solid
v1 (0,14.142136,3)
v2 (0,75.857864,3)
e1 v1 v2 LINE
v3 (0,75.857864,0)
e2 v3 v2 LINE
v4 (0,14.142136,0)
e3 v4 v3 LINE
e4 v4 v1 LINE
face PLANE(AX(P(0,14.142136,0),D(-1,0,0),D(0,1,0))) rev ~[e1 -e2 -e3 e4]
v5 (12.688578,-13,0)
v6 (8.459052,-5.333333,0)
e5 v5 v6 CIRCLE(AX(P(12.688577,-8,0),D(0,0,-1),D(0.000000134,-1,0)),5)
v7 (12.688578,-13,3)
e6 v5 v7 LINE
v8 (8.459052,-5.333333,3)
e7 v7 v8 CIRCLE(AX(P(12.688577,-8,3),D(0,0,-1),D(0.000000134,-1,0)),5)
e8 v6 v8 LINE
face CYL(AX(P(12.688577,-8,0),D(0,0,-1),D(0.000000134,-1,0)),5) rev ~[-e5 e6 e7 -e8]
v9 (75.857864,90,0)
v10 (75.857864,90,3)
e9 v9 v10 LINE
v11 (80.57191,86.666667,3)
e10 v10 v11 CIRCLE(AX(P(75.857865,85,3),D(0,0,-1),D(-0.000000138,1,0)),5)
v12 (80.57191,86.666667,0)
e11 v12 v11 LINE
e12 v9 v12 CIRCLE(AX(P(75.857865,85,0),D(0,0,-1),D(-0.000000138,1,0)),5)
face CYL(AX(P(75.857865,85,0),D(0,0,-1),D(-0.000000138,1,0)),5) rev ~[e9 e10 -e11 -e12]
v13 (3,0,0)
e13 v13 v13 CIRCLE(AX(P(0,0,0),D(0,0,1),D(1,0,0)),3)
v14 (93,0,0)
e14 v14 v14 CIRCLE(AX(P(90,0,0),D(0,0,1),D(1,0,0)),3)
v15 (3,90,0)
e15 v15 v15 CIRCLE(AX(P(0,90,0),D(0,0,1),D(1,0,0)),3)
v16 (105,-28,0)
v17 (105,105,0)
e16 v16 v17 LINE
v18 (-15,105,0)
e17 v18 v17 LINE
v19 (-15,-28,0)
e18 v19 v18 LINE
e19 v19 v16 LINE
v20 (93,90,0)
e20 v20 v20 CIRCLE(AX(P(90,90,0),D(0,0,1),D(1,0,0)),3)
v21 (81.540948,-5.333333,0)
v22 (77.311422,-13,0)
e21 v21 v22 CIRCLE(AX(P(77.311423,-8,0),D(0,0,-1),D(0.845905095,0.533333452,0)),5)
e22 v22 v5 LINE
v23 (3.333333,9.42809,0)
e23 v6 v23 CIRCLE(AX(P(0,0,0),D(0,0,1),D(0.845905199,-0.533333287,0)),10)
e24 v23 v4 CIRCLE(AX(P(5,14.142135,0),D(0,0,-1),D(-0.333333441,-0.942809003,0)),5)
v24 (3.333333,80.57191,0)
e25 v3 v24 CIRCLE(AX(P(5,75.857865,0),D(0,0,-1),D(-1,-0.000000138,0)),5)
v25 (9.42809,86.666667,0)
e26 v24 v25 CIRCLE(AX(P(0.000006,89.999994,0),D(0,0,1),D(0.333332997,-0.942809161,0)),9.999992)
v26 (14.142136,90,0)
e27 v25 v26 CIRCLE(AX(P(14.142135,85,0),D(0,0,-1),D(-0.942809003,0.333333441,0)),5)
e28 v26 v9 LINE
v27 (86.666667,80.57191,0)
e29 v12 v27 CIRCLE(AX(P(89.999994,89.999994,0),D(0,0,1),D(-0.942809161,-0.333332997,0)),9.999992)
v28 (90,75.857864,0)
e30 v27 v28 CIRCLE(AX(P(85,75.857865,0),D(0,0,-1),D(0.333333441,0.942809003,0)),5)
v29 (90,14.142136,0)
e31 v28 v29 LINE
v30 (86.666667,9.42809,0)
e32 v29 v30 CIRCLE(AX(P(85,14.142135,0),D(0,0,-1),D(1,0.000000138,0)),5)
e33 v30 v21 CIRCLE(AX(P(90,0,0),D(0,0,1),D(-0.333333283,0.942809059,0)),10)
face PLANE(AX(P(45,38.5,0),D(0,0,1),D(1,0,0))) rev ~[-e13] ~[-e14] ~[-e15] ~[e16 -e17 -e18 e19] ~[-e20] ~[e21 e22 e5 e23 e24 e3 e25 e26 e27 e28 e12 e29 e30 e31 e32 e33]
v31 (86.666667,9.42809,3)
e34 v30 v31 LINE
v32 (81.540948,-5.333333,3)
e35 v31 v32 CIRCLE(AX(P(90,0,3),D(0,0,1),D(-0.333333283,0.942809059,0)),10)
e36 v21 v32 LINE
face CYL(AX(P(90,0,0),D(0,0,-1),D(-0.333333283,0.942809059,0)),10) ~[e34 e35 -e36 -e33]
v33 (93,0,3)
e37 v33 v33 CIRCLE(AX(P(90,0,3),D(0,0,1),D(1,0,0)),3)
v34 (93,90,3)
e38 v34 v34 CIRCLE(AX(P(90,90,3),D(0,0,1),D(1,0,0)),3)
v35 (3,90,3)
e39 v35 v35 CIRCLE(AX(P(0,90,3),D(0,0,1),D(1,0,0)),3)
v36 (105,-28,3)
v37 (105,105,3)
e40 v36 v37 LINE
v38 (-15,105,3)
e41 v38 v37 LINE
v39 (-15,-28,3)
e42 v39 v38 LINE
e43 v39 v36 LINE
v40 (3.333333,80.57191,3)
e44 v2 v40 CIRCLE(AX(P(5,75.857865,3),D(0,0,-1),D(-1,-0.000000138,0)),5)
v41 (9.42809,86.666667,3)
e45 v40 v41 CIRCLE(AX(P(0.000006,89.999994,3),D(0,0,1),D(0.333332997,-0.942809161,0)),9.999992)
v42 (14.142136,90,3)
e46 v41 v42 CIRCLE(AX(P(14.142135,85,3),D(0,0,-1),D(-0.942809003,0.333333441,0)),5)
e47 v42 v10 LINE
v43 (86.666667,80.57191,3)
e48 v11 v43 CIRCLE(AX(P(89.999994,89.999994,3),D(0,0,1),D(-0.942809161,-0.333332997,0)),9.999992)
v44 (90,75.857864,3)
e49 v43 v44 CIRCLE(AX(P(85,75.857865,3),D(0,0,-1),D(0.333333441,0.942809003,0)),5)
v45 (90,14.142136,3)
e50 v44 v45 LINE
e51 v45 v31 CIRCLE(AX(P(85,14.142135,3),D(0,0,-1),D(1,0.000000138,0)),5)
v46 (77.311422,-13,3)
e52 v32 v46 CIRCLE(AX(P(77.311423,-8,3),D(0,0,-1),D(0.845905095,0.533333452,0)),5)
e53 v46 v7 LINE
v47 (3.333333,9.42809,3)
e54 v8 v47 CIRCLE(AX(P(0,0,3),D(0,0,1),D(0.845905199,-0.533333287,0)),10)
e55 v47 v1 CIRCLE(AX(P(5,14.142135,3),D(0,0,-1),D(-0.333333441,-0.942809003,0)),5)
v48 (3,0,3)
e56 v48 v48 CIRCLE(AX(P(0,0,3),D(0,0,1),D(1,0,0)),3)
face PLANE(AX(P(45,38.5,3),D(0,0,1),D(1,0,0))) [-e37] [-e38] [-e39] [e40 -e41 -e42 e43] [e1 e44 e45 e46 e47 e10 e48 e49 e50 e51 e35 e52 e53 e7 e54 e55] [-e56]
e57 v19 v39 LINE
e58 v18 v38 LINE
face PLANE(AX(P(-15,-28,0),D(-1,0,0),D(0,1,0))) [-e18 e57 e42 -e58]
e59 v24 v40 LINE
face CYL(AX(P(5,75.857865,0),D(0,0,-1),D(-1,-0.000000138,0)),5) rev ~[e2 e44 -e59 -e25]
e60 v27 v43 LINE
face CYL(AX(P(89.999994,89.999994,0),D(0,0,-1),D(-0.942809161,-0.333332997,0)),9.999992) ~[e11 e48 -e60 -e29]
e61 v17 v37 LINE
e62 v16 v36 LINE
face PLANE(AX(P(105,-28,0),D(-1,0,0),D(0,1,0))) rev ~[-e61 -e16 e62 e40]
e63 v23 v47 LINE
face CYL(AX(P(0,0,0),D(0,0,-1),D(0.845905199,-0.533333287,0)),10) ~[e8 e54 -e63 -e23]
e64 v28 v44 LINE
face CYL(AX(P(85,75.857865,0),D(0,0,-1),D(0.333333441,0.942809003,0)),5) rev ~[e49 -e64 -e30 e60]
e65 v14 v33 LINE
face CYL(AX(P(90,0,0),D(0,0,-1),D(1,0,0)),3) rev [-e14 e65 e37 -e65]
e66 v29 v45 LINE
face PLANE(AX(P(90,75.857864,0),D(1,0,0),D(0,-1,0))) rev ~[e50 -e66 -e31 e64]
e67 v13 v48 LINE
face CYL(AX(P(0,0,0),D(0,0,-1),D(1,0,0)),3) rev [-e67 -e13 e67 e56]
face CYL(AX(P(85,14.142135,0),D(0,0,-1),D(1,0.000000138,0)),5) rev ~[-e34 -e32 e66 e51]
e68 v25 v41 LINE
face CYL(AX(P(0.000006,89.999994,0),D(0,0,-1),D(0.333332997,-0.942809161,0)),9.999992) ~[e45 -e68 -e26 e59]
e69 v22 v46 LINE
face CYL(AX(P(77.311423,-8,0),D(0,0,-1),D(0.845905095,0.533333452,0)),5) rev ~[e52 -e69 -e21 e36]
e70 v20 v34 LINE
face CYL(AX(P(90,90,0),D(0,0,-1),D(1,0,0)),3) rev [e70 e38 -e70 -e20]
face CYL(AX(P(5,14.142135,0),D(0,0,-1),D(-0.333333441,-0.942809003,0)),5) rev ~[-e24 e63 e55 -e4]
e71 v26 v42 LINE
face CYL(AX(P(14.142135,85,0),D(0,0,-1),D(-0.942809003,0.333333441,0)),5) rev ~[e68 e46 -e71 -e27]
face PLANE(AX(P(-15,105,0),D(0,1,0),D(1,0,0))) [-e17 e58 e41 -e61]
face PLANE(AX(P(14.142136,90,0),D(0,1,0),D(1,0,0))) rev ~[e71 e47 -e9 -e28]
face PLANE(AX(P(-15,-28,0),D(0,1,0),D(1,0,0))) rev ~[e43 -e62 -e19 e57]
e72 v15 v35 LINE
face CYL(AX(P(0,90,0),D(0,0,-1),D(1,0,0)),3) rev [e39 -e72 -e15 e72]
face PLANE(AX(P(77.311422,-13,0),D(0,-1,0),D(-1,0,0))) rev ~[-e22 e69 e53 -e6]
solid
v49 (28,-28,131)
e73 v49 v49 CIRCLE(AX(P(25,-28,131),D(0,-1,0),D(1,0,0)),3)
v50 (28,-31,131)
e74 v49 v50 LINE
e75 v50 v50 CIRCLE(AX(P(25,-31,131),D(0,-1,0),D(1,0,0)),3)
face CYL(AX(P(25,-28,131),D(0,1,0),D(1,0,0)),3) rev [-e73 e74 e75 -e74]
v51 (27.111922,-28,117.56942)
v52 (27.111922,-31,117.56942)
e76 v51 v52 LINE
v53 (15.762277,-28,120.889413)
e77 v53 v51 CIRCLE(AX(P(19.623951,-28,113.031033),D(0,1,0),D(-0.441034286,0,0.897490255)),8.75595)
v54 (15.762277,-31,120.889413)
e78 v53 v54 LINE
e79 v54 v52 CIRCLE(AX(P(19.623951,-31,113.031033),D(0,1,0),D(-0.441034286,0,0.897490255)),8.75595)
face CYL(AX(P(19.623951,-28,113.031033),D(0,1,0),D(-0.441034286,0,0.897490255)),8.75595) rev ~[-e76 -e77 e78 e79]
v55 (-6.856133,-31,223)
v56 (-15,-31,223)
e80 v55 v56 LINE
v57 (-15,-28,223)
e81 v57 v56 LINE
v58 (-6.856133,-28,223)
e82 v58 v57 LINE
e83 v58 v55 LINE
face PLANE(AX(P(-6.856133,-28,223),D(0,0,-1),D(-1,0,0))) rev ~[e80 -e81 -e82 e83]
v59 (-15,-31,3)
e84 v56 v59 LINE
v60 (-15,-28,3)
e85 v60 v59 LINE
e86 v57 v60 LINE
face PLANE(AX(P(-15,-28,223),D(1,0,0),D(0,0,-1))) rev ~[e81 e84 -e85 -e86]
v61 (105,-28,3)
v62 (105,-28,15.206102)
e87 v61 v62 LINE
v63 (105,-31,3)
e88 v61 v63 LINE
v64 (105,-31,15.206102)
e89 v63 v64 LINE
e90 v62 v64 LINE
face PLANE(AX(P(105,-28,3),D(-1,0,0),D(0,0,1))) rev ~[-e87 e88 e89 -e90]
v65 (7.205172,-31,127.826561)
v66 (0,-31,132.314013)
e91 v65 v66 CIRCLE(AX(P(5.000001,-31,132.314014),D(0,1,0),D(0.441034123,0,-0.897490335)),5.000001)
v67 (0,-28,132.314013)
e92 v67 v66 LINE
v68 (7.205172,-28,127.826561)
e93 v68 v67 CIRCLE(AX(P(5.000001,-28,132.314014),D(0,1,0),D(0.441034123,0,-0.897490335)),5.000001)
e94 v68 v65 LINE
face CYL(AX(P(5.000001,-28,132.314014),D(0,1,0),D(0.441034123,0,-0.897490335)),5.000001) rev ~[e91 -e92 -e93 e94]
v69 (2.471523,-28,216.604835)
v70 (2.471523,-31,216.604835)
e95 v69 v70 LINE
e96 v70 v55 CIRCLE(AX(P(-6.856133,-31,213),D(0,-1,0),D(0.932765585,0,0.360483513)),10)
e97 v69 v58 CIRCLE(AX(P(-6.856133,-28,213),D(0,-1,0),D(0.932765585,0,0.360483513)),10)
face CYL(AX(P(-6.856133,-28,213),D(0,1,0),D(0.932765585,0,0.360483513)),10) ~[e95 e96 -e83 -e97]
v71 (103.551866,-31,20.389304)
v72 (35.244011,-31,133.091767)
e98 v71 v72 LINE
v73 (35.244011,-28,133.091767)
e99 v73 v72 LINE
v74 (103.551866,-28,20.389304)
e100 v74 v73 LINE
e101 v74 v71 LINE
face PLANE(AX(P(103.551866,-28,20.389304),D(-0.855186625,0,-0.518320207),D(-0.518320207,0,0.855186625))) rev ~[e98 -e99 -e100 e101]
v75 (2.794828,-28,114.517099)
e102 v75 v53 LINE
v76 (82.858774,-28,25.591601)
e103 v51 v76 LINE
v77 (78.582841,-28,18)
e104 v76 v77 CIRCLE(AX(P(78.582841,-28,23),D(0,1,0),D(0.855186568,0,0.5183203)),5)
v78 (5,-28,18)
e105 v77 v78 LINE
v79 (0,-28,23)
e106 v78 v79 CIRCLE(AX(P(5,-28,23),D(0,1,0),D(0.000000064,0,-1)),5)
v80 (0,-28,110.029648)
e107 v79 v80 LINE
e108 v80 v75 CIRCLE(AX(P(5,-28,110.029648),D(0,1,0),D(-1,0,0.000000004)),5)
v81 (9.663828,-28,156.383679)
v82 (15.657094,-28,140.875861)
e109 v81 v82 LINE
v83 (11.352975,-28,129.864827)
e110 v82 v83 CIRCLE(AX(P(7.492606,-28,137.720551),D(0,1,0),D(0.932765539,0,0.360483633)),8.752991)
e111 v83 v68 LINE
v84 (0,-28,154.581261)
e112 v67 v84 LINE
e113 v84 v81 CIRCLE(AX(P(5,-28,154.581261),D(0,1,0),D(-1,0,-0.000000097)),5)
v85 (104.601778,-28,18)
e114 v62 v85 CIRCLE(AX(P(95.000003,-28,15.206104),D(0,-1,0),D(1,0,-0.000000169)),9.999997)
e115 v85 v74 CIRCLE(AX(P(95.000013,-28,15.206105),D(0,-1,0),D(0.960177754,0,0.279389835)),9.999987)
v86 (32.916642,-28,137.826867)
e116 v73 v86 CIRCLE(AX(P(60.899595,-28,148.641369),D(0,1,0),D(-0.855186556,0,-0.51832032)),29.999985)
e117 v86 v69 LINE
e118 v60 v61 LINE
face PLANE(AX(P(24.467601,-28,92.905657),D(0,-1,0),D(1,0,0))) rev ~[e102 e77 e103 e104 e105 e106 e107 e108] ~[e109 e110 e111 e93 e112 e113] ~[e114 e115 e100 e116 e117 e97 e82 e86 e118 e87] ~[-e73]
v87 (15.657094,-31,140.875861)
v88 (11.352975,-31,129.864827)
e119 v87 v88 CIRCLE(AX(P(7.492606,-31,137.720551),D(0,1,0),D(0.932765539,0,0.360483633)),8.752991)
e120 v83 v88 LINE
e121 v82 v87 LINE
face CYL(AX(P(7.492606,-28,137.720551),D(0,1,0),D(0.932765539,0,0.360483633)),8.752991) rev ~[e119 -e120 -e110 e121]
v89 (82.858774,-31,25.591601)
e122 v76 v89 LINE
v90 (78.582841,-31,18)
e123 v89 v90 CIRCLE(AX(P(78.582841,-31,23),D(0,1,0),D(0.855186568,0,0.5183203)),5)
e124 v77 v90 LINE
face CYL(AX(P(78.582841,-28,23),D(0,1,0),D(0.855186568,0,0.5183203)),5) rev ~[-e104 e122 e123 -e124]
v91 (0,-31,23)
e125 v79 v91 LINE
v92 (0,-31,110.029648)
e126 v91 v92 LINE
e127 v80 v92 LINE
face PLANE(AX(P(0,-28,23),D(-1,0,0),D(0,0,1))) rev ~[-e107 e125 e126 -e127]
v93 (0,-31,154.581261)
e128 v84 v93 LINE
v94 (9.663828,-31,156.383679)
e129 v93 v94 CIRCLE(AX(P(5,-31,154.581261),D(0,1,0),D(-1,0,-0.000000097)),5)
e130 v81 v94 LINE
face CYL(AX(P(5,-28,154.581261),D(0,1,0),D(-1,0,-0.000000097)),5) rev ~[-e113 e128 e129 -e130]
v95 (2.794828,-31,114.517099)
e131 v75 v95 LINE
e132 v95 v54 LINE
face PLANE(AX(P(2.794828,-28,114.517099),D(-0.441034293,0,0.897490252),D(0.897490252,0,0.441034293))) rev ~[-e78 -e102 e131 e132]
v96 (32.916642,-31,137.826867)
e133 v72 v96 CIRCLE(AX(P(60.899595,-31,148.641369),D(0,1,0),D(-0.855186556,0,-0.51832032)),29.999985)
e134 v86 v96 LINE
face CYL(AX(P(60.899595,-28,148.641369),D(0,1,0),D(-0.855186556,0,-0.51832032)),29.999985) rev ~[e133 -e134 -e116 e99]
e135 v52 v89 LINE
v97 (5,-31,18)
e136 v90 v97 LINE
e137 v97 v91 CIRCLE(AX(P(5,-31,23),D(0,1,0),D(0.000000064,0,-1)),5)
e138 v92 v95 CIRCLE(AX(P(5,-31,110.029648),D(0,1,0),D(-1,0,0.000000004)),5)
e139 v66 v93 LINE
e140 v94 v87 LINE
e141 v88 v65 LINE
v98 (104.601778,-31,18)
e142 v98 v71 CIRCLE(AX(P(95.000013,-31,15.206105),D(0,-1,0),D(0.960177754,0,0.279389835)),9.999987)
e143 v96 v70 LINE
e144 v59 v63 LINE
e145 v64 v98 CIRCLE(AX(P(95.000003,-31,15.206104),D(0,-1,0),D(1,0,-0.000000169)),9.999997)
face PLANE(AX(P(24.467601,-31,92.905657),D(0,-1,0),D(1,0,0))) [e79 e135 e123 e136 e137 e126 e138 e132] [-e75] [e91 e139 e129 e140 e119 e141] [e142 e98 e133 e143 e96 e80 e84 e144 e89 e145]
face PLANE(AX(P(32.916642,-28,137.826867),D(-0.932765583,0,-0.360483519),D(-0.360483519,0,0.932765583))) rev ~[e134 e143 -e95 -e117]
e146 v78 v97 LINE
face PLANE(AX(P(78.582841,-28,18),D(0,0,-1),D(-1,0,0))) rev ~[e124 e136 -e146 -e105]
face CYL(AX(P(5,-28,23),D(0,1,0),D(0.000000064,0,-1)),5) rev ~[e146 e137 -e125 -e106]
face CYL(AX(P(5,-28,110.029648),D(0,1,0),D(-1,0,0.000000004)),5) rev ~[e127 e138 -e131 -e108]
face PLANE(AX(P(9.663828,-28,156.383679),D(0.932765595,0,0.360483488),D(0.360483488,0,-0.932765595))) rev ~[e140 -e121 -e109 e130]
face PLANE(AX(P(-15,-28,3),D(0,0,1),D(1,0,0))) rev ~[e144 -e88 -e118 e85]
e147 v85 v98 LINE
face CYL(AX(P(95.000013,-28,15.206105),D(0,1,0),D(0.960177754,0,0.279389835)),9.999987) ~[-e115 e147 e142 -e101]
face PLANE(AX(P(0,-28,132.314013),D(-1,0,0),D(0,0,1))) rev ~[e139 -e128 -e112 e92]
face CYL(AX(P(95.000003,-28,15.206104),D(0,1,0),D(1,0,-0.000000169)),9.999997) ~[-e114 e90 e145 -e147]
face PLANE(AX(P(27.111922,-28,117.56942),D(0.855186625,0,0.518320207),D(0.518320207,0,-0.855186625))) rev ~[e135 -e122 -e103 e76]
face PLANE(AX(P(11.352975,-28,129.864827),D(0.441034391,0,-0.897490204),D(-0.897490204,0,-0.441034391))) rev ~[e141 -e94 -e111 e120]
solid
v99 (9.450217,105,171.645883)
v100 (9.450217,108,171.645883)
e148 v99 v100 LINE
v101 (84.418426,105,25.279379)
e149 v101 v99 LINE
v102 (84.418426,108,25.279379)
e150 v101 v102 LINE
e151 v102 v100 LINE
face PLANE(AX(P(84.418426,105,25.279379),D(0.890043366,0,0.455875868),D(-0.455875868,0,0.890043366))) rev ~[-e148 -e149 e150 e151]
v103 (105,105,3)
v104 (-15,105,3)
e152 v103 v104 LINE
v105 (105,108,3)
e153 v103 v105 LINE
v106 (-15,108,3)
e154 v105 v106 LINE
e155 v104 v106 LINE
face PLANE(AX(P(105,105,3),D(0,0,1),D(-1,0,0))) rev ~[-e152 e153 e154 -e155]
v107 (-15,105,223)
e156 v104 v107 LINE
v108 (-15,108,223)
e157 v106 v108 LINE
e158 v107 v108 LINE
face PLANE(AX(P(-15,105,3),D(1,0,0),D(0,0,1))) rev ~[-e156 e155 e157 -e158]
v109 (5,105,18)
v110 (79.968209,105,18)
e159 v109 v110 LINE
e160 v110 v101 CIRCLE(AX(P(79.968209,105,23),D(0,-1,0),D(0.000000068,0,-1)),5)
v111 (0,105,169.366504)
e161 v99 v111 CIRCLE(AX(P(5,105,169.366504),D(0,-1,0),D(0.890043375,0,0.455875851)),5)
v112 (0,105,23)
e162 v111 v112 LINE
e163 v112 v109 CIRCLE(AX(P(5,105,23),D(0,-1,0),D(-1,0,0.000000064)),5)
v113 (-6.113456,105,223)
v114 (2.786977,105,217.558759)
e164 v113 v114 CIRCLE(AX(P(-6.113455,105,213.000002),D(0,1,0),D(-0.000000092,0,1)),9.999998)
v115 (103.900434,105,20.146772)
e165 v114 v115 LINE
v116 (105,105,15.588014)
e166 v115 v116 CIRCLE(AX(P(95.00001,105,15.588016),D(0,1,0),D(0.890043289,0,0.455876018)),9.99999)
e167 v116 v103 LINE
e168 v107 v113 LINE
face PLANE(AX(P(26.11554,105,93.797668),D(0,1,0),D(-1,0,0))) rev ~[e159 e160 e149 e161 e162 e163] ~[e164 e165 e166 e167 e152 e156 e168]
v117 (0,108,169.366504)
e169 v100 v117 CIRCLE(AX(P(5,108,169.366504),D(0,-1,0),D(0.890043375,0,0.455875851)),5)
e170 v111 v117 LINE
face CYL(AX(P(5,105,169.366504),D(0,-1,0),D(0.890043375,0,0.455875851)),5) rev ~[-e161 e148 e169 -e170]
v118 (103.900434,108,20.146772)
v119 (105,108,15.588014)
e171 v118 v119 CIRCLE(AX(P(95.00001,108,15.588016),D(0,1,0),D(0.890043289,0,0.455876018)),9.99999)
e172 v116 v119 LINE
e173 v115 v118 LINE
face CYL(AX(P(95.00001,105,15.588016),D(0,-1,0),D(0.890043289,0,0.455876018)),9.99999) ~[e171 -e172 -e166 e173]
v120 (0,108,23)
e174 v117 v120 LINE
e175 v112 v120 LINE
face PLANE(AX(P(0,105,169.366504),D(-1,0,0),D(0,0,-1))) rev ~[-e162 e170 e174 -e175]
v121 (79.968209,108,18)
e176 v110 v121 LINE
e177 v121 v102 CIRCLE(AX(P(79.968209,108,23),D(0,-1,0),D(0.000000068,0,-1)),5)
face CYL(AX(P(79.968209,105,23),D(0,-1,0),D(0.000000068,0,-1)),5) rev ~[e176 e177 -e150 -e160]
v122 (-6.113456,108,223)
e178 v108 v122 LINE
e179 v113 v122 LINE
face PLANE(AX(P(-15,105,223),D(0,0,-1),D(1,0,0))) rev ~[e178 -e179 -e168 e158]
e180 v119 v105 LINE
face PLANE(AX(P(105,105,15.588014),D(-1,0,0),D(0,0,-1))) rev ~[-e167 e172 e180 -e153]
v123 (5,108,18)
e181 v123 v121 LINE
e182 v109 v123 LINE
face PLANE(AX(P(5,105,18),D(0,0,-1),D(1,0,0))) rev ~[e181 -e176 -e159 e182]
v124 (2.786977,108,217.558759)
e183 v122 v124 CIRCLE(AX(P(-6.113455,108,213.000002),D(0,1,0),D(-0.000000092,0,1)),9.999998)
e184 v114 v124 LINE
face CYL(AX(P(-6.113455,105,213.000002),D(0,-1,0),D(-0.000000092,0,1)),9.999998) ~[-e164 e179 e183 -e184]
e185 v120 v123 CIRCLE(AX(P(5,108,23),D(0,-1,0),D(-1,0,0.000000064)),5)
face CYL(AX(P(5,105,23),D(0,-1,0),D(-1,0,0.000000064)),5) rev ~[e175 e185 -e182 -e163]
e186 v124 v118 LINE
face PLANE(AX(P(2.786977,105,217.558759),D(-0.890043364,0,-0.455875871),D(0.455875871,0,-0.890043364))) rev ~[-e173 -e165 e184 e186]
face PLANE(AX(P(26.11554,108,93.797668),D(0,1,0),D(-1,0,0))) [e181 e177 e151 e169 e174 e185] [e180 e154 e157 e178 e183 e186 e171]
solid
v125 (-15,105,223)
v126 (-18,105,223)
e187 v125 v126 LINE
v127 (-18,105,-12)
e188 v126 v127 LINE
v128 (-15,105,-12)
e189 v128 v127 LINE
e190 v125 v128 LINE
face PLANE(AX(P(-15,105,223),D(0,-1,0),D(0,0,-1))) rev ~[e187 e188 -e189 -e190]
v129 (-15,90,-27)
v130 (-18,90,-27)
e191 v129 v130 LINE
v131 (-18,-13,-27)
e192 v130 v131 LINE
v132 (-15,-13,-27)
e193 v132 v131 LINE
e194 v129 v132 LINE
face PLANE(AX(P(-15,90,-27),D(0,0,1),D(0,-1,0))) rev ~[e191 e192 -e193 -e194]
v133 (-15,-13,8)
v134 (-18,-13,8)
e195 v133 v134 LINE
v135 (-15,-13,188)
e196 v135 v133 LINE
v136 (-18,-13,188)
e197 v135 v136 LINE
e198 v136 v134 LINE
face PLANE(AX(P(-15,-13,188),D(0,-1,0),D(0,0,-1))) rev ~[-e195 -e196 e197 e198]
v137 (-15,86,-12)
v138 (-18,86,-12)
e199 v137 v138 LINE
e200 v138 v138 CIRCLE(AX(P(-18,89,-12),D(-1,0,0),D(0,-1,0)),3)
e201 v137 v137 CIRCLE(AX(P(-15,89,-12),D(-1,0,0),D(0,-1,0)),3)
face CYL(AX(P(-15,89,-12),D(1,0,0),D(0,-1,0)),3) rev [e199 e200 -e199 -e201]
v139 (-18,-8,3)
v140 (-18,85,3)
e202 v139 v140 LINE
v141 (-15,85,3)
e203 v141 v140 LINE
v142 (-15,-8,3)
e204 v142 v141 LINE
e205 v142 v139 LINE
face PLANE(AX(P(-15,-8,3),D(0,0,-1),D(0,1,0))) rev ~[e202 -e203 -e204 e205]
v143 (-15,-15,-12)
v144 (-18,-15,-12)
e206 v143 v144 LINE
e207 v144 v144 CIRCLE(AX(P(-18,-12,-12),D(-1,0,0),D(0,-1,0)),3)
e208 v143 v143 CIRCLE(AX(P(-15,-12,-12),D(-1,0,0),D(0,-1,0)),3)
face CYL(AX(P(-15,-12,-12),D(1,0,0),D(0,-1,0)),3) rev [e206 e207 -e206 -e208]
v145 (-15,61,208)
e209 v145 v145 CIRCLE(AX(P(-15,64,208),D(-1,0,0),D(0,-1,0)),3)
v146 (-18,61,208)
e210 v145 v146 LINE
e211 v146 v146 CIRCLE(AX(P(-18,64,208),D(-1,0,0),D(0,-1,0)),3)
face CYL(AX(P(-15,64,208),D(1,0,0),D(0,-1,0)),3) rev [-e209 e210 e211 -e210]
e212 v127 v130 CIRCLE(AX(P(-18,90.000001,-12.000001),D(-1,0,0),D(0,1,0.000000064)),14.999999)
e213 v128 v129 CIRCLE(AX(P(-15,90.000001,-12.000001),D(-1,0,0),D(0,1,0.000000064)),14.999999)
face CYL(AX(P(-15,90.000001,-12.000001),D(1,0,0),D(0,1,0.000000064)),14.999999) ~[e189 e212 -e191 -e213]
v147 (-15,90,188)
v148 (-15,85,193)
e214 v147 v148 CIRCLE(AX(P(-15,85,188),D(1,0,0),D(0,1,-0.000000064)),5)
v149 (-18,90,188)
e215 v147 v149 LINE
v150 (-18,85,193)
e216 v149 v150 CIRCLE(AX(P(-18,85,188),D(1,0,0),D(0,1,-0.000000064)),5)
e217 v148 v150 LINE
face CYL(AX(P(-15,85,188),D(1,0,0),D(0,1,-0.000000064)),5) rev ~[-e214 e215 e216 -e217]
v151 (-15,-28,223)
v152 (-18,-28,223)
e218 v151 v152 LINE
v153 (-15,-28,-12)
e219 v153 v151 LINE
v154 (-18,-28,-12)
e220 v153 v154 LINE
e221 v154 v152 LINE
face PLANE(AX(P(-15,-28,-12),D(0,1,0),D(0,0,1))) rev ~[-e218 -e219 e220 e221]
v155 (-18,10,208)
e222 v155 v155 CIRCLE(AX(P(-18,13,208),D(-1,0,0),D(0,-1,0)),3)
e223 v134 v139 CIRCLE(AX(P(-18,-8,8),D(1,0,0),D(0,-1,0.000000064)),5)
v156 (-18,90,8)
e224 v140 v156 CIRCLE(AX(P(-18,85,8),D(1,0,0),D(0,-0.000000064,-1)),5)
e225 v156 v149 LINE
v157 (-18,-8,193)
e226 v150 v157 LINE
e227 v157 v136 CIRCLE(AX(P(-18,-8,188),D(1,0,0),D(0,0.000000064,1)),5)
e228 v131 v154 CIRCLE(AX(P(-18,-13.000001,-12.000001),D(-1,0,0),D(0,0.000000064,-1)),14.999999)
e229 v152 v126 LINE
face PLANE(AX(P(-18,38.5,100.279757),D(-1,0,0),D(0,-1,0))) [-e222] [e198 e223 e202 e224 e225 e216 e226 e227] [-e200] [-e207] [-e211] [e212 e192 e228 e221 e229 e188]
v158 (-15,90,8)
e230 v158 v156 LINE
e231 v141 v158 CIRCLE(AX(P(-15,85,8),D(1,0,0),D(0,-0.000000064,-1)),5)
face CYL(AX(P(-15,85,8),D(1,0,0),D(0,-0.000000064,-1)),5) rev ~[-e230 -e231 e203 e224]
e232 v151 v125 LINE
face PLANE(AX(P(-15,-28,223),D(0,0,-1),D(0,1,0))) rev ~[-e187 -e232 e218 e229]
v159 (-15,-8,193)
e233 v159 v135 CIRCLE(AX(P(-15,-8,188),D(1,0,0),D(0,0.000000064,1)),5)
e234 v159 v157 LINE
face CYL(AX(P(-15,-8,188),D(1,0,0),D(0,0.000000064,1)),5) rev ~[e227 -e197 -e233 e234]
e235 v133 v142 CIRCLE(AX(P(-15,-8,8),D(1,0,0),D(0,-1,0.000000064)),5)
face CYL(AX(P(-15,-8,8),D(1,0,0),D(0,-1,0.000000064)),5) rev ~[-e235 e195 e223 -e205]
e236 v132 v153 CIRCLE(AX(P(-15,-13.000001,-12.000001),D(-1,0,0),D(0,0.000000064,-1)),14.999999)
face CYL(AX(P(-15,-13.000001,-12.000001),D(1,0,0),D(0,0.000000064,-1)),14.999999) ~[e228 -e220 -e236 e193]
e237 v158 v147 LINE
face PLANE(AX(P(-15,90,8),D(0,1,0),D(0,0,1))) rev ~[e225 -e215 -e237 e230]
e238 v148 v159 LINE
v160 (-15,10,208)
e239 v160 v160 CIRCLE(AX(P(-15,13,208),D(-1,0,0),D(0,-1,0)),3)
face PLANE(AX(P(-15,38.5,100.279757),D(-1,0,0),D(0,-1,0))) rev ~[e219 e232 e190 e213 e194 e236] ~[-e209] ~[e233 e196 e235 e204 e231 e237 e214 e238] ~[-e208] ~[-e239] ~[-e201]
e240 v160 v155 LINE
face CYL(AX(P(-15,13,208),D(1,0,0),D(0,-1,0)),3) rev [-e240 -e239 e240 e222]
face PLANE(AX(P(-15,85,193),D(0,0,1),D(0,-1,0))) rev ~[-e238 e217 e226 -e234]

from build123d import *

# Parameters (mm, degrees)
F0_W     = 120
F0_H     = 133
F0_R     = 3
F1_DEPTH = 3
F2_R     = 3
F3_DEPTH = 3
F5_DEPTH = 3
F6_R     = 3
F7_DEPTH = 3


with BuildPart() as f1:
    # F0 (on Top) → F1 (new body)
    with BuildSketch(Plane.XY):
        with Locations((45, 38.5)):
            Rectangle(F0_W, F0_H)
        Circle(F0_R, mode=Mode.SUBTRACT)
        with Locations((90, 0)):
            Circle(F0_R, mode=Mode.SUBTRACT)
        with BuildLine():
            ThreePointArc((0, 75.857864), (0.917517, 78.744616), (3.333333, 80.57191))
            ThreePointArc((3.333333, 80.57191), (7.071068, 82.928932), (9.42809, 86.666667))
            ThreePointArc((9.42809, 86.666667), (11.255384, 89.082483), (14.142136, 90))
            Line((14.142136, 90), (75.857864, 90))
            ThreePointArc((75.857864, 90), (78.744616, 89.082483), (80.57191, 86.666667))
            ThreePointArc((80.57191, 86.666667), (82.928932, 82.928932), (86.666667, 80.57191))
            ThreePointArc((86.666667, 80.57191), (89.082483, 78.744616), (90, 75.857864))
            Line((90, 75.857864), (90, 14.142136))
            ThreePointArc((90, 14.142136), (89.082483, 11.255384), (86.666667, 9.42809))
            ThreePointArc((86.666667, 9.42809), (80.553308, 3.280245), (81.540948, -5.333333))
            ThreePointArc((81.540948, -5.333333), (81.689398, -10.415229), (77.311422, -13))
            Line((77.311422, -13), (12.688578, -13))
            ThreePointArc((12.688578, -13), (8.310602, -10.415229), (8.459052, -5.333333))
            ThreePointArc((8.459052, -5.333333), (9.446692, 3.280245), (3.333333, 9.42809))
            ThreePointArc((3.333333, 9.42809), (0.917517, 11.255384), (0, 14.142136))
            Line((0, 14.142136), (0, 75.857864))
        make_face(mode=Mode.SUBTRACT)
        with Locations((0, 90)):
            Circle(F0_R, mode=Mode.SUBTRACT)
        with Locations((90, 90)):
            Circle(F0_R, mode=Mode.SUBTRACT)
    extrude(amount=F1_DEPTH)


with BuildPart() as f3:
    # F2 (on face) → F3 (new body)
    with BuildSketch(Plane(origin=(-15, 0, 0), x_dir=(0, -1, 0), z_dir=(-1, 0, 0))):
        with BuildLine():
            Line((28, 223), (-105, 223))
            Line((-105, 223), (-105, 3))
            Line((-105, 3), (-105, -12))
            ThreePointArc((-105, -12), (-100.606602, -22.606602), (-90, -27))
            Line((-90, -27), (13, -27))
            ThreePointArc((13, -27), (23.606602, -22.606602), (28, -12))
            Line((28, -12), (28, 3))
            Line((28, 3), (28, 223))
        make_face()
        with Locations((-89, -12)):
            Circle(F2_R, mode=Mode.SUBTRACT)
        with Locations((12, -12)):
            Circle(F2_R, mode=Mode.SUBTRACT)
        with BuildLine():
            Line((8, 3), (-85, 3))
            ThreePointArc((-85, 3), (-88.535534, 4.464466), (-90, 8))
            Line((-90, 8), (-90, 188))
            ThreePointArc((-90, 188), (-88.535534, 191.535534), (-85, 193))
            Line((-85, 193), (8, 193))
            ThreePointArc((8, 193), (11.535534, 191.535534), (13, 188))
            Line((13, 188), (13, 8))
            ThreePointArc((13, 8), (11.535534, 4.464466), (8, 3))
        make_face(mode=Mode.SUBTRACT)
        with Locations((-64, 208)):
            Circle(F2_R, mode=Mode.SUBTRACT)
        with Locations((-13, 208)):
            Circle(F2_R, mode=Mode.SUBTRACT)
    extrude(amount=F3_DEPTH)


with BuildPart() as f5:
    # F4 (on face) → F5 (new body)
    with BuildSketch(Plane(origin=(0, 105, 0), x_dir=(-1, 0, 0), z_dir=(0, 1, 0))):
        with BuildLine():
            Line((-105, 3), (15, 3))
            Line((15, 3), (15, 223))
            Line((15, 223), (6.113456, 223))
            ThreePointArc((6.113456, 223), (0.897499, 221.531928), (-2.786977, 217.558759))
            Line((-2.786977, 217.558759), (-103.900434, 20.146772))
            ThreePointArc((-103.900434, 20.146772), (-104.721223, 17.932759), (-105, 15.588014))
            Line((-105, 15.588014), (-105, 3))
        make_face()
        with BuildLine():
            Line((-5, 18), (-79.968209, 18))
            ThreePointArc((-79.968209, 18), (-84.234173, 20.392022), (-84.418426, 25.279379))
            Line((-84.418426, 25.279379), (-9.450217, 171.645883))
            ThreePointArc((-9.450217, 171.645883), (-3.827627, 174.227115), (0, 169.366504))
            Line((0, 169.366504), (0, 23))
            ThreePointArc((0, 23), (-1.464466, 19.464466), (-5, 18))
        make_face(mode=Mode.SUBTRACT)
    extrude(amount=F5_DEPTH)


with BuildPart() as f7:
    # F6 (on face) → F7 (new body)
    with BuildSketch(Plane.XZ.offset(28)):
        with BuildLine():
            Line((-15, 223), (-15, 3))
            Line((-15, 3), (105, 3))
            Line((105, 3), (105, 15.206102))
            ThreePointArc((105, 15.206102), (104.899944, 16.61717), (104.601778, 18))
            ThreePointArc((104.601778, 18), (104.155102, 19.22905), (103.551866, 20.389304))
            Line((103.551866, 20.389304), (35.244011, 133.091767))
            ThreePointArc((35.244011, 133.091767), (33.976028, 135.408053), (32.916642, 137.826867))
            Line((32.916642, 137.826867), (2.471523, 216.604835))
            ThreePointArc((2.471523, 216.604835), (-1.201416, 221.247677), (-6.856133, 223))
            Line((-6.856133, 223), (-15, 223))
        make_face()
        with BuildLine():
            ThreePointArc((0, 110.029648), (0.755836, 112.672955), (2.794828, 114.517099))
            Line((2.794828, 114.517099), (15.762277, 120.889413))
            ThreePointArc((15.762277, 120.889413), (22.082222, 121.434816), (27.111922, 117.56942))
            Line((27.111922, 117.56942), (82.858774, 25.591601))
            ThreePointArc((82.858774, 25.591601), (82.939331, 20.546228), (78.582841, 18))
            Line((78.582841, 18), (5, 18))
            ThreePointArc((5, 18), (1.464466, 19.464466), (0, 23))
            Line((0, 23), (0, 110.029648))
        make_face(mode=Mode.SUBTRACT)
        with BuildLine():
            Line((11.352975, 129.864827), (7.205172, 127.826561))
            ThreePointArc((7.205172, 127.826561), (2.356693, 128.069849), (0, 132.314013))
            Line((0, 132.314013), (0, 154.581261))
            ThreePointArc((0, 154.581261), (4.08325, 159.4965), (9.663828, 156.383679))
            Line((9.663828, 156.383679), (15.657094, 140.875861))
            ThreePointArc((15.657094, 140.875861), (15.644907, 134.533886), (11.352975, 129.864827))
        make_face(mode=Mode.SUBTRACT)
        with Locations((25, 131)):
            Circle(F6_R, mode=Mode.SUBTRACT)
    extrude(amount=F7_DEPTH)


solid = Compound([f1.part, f3.part, f5.part, f7.part])
